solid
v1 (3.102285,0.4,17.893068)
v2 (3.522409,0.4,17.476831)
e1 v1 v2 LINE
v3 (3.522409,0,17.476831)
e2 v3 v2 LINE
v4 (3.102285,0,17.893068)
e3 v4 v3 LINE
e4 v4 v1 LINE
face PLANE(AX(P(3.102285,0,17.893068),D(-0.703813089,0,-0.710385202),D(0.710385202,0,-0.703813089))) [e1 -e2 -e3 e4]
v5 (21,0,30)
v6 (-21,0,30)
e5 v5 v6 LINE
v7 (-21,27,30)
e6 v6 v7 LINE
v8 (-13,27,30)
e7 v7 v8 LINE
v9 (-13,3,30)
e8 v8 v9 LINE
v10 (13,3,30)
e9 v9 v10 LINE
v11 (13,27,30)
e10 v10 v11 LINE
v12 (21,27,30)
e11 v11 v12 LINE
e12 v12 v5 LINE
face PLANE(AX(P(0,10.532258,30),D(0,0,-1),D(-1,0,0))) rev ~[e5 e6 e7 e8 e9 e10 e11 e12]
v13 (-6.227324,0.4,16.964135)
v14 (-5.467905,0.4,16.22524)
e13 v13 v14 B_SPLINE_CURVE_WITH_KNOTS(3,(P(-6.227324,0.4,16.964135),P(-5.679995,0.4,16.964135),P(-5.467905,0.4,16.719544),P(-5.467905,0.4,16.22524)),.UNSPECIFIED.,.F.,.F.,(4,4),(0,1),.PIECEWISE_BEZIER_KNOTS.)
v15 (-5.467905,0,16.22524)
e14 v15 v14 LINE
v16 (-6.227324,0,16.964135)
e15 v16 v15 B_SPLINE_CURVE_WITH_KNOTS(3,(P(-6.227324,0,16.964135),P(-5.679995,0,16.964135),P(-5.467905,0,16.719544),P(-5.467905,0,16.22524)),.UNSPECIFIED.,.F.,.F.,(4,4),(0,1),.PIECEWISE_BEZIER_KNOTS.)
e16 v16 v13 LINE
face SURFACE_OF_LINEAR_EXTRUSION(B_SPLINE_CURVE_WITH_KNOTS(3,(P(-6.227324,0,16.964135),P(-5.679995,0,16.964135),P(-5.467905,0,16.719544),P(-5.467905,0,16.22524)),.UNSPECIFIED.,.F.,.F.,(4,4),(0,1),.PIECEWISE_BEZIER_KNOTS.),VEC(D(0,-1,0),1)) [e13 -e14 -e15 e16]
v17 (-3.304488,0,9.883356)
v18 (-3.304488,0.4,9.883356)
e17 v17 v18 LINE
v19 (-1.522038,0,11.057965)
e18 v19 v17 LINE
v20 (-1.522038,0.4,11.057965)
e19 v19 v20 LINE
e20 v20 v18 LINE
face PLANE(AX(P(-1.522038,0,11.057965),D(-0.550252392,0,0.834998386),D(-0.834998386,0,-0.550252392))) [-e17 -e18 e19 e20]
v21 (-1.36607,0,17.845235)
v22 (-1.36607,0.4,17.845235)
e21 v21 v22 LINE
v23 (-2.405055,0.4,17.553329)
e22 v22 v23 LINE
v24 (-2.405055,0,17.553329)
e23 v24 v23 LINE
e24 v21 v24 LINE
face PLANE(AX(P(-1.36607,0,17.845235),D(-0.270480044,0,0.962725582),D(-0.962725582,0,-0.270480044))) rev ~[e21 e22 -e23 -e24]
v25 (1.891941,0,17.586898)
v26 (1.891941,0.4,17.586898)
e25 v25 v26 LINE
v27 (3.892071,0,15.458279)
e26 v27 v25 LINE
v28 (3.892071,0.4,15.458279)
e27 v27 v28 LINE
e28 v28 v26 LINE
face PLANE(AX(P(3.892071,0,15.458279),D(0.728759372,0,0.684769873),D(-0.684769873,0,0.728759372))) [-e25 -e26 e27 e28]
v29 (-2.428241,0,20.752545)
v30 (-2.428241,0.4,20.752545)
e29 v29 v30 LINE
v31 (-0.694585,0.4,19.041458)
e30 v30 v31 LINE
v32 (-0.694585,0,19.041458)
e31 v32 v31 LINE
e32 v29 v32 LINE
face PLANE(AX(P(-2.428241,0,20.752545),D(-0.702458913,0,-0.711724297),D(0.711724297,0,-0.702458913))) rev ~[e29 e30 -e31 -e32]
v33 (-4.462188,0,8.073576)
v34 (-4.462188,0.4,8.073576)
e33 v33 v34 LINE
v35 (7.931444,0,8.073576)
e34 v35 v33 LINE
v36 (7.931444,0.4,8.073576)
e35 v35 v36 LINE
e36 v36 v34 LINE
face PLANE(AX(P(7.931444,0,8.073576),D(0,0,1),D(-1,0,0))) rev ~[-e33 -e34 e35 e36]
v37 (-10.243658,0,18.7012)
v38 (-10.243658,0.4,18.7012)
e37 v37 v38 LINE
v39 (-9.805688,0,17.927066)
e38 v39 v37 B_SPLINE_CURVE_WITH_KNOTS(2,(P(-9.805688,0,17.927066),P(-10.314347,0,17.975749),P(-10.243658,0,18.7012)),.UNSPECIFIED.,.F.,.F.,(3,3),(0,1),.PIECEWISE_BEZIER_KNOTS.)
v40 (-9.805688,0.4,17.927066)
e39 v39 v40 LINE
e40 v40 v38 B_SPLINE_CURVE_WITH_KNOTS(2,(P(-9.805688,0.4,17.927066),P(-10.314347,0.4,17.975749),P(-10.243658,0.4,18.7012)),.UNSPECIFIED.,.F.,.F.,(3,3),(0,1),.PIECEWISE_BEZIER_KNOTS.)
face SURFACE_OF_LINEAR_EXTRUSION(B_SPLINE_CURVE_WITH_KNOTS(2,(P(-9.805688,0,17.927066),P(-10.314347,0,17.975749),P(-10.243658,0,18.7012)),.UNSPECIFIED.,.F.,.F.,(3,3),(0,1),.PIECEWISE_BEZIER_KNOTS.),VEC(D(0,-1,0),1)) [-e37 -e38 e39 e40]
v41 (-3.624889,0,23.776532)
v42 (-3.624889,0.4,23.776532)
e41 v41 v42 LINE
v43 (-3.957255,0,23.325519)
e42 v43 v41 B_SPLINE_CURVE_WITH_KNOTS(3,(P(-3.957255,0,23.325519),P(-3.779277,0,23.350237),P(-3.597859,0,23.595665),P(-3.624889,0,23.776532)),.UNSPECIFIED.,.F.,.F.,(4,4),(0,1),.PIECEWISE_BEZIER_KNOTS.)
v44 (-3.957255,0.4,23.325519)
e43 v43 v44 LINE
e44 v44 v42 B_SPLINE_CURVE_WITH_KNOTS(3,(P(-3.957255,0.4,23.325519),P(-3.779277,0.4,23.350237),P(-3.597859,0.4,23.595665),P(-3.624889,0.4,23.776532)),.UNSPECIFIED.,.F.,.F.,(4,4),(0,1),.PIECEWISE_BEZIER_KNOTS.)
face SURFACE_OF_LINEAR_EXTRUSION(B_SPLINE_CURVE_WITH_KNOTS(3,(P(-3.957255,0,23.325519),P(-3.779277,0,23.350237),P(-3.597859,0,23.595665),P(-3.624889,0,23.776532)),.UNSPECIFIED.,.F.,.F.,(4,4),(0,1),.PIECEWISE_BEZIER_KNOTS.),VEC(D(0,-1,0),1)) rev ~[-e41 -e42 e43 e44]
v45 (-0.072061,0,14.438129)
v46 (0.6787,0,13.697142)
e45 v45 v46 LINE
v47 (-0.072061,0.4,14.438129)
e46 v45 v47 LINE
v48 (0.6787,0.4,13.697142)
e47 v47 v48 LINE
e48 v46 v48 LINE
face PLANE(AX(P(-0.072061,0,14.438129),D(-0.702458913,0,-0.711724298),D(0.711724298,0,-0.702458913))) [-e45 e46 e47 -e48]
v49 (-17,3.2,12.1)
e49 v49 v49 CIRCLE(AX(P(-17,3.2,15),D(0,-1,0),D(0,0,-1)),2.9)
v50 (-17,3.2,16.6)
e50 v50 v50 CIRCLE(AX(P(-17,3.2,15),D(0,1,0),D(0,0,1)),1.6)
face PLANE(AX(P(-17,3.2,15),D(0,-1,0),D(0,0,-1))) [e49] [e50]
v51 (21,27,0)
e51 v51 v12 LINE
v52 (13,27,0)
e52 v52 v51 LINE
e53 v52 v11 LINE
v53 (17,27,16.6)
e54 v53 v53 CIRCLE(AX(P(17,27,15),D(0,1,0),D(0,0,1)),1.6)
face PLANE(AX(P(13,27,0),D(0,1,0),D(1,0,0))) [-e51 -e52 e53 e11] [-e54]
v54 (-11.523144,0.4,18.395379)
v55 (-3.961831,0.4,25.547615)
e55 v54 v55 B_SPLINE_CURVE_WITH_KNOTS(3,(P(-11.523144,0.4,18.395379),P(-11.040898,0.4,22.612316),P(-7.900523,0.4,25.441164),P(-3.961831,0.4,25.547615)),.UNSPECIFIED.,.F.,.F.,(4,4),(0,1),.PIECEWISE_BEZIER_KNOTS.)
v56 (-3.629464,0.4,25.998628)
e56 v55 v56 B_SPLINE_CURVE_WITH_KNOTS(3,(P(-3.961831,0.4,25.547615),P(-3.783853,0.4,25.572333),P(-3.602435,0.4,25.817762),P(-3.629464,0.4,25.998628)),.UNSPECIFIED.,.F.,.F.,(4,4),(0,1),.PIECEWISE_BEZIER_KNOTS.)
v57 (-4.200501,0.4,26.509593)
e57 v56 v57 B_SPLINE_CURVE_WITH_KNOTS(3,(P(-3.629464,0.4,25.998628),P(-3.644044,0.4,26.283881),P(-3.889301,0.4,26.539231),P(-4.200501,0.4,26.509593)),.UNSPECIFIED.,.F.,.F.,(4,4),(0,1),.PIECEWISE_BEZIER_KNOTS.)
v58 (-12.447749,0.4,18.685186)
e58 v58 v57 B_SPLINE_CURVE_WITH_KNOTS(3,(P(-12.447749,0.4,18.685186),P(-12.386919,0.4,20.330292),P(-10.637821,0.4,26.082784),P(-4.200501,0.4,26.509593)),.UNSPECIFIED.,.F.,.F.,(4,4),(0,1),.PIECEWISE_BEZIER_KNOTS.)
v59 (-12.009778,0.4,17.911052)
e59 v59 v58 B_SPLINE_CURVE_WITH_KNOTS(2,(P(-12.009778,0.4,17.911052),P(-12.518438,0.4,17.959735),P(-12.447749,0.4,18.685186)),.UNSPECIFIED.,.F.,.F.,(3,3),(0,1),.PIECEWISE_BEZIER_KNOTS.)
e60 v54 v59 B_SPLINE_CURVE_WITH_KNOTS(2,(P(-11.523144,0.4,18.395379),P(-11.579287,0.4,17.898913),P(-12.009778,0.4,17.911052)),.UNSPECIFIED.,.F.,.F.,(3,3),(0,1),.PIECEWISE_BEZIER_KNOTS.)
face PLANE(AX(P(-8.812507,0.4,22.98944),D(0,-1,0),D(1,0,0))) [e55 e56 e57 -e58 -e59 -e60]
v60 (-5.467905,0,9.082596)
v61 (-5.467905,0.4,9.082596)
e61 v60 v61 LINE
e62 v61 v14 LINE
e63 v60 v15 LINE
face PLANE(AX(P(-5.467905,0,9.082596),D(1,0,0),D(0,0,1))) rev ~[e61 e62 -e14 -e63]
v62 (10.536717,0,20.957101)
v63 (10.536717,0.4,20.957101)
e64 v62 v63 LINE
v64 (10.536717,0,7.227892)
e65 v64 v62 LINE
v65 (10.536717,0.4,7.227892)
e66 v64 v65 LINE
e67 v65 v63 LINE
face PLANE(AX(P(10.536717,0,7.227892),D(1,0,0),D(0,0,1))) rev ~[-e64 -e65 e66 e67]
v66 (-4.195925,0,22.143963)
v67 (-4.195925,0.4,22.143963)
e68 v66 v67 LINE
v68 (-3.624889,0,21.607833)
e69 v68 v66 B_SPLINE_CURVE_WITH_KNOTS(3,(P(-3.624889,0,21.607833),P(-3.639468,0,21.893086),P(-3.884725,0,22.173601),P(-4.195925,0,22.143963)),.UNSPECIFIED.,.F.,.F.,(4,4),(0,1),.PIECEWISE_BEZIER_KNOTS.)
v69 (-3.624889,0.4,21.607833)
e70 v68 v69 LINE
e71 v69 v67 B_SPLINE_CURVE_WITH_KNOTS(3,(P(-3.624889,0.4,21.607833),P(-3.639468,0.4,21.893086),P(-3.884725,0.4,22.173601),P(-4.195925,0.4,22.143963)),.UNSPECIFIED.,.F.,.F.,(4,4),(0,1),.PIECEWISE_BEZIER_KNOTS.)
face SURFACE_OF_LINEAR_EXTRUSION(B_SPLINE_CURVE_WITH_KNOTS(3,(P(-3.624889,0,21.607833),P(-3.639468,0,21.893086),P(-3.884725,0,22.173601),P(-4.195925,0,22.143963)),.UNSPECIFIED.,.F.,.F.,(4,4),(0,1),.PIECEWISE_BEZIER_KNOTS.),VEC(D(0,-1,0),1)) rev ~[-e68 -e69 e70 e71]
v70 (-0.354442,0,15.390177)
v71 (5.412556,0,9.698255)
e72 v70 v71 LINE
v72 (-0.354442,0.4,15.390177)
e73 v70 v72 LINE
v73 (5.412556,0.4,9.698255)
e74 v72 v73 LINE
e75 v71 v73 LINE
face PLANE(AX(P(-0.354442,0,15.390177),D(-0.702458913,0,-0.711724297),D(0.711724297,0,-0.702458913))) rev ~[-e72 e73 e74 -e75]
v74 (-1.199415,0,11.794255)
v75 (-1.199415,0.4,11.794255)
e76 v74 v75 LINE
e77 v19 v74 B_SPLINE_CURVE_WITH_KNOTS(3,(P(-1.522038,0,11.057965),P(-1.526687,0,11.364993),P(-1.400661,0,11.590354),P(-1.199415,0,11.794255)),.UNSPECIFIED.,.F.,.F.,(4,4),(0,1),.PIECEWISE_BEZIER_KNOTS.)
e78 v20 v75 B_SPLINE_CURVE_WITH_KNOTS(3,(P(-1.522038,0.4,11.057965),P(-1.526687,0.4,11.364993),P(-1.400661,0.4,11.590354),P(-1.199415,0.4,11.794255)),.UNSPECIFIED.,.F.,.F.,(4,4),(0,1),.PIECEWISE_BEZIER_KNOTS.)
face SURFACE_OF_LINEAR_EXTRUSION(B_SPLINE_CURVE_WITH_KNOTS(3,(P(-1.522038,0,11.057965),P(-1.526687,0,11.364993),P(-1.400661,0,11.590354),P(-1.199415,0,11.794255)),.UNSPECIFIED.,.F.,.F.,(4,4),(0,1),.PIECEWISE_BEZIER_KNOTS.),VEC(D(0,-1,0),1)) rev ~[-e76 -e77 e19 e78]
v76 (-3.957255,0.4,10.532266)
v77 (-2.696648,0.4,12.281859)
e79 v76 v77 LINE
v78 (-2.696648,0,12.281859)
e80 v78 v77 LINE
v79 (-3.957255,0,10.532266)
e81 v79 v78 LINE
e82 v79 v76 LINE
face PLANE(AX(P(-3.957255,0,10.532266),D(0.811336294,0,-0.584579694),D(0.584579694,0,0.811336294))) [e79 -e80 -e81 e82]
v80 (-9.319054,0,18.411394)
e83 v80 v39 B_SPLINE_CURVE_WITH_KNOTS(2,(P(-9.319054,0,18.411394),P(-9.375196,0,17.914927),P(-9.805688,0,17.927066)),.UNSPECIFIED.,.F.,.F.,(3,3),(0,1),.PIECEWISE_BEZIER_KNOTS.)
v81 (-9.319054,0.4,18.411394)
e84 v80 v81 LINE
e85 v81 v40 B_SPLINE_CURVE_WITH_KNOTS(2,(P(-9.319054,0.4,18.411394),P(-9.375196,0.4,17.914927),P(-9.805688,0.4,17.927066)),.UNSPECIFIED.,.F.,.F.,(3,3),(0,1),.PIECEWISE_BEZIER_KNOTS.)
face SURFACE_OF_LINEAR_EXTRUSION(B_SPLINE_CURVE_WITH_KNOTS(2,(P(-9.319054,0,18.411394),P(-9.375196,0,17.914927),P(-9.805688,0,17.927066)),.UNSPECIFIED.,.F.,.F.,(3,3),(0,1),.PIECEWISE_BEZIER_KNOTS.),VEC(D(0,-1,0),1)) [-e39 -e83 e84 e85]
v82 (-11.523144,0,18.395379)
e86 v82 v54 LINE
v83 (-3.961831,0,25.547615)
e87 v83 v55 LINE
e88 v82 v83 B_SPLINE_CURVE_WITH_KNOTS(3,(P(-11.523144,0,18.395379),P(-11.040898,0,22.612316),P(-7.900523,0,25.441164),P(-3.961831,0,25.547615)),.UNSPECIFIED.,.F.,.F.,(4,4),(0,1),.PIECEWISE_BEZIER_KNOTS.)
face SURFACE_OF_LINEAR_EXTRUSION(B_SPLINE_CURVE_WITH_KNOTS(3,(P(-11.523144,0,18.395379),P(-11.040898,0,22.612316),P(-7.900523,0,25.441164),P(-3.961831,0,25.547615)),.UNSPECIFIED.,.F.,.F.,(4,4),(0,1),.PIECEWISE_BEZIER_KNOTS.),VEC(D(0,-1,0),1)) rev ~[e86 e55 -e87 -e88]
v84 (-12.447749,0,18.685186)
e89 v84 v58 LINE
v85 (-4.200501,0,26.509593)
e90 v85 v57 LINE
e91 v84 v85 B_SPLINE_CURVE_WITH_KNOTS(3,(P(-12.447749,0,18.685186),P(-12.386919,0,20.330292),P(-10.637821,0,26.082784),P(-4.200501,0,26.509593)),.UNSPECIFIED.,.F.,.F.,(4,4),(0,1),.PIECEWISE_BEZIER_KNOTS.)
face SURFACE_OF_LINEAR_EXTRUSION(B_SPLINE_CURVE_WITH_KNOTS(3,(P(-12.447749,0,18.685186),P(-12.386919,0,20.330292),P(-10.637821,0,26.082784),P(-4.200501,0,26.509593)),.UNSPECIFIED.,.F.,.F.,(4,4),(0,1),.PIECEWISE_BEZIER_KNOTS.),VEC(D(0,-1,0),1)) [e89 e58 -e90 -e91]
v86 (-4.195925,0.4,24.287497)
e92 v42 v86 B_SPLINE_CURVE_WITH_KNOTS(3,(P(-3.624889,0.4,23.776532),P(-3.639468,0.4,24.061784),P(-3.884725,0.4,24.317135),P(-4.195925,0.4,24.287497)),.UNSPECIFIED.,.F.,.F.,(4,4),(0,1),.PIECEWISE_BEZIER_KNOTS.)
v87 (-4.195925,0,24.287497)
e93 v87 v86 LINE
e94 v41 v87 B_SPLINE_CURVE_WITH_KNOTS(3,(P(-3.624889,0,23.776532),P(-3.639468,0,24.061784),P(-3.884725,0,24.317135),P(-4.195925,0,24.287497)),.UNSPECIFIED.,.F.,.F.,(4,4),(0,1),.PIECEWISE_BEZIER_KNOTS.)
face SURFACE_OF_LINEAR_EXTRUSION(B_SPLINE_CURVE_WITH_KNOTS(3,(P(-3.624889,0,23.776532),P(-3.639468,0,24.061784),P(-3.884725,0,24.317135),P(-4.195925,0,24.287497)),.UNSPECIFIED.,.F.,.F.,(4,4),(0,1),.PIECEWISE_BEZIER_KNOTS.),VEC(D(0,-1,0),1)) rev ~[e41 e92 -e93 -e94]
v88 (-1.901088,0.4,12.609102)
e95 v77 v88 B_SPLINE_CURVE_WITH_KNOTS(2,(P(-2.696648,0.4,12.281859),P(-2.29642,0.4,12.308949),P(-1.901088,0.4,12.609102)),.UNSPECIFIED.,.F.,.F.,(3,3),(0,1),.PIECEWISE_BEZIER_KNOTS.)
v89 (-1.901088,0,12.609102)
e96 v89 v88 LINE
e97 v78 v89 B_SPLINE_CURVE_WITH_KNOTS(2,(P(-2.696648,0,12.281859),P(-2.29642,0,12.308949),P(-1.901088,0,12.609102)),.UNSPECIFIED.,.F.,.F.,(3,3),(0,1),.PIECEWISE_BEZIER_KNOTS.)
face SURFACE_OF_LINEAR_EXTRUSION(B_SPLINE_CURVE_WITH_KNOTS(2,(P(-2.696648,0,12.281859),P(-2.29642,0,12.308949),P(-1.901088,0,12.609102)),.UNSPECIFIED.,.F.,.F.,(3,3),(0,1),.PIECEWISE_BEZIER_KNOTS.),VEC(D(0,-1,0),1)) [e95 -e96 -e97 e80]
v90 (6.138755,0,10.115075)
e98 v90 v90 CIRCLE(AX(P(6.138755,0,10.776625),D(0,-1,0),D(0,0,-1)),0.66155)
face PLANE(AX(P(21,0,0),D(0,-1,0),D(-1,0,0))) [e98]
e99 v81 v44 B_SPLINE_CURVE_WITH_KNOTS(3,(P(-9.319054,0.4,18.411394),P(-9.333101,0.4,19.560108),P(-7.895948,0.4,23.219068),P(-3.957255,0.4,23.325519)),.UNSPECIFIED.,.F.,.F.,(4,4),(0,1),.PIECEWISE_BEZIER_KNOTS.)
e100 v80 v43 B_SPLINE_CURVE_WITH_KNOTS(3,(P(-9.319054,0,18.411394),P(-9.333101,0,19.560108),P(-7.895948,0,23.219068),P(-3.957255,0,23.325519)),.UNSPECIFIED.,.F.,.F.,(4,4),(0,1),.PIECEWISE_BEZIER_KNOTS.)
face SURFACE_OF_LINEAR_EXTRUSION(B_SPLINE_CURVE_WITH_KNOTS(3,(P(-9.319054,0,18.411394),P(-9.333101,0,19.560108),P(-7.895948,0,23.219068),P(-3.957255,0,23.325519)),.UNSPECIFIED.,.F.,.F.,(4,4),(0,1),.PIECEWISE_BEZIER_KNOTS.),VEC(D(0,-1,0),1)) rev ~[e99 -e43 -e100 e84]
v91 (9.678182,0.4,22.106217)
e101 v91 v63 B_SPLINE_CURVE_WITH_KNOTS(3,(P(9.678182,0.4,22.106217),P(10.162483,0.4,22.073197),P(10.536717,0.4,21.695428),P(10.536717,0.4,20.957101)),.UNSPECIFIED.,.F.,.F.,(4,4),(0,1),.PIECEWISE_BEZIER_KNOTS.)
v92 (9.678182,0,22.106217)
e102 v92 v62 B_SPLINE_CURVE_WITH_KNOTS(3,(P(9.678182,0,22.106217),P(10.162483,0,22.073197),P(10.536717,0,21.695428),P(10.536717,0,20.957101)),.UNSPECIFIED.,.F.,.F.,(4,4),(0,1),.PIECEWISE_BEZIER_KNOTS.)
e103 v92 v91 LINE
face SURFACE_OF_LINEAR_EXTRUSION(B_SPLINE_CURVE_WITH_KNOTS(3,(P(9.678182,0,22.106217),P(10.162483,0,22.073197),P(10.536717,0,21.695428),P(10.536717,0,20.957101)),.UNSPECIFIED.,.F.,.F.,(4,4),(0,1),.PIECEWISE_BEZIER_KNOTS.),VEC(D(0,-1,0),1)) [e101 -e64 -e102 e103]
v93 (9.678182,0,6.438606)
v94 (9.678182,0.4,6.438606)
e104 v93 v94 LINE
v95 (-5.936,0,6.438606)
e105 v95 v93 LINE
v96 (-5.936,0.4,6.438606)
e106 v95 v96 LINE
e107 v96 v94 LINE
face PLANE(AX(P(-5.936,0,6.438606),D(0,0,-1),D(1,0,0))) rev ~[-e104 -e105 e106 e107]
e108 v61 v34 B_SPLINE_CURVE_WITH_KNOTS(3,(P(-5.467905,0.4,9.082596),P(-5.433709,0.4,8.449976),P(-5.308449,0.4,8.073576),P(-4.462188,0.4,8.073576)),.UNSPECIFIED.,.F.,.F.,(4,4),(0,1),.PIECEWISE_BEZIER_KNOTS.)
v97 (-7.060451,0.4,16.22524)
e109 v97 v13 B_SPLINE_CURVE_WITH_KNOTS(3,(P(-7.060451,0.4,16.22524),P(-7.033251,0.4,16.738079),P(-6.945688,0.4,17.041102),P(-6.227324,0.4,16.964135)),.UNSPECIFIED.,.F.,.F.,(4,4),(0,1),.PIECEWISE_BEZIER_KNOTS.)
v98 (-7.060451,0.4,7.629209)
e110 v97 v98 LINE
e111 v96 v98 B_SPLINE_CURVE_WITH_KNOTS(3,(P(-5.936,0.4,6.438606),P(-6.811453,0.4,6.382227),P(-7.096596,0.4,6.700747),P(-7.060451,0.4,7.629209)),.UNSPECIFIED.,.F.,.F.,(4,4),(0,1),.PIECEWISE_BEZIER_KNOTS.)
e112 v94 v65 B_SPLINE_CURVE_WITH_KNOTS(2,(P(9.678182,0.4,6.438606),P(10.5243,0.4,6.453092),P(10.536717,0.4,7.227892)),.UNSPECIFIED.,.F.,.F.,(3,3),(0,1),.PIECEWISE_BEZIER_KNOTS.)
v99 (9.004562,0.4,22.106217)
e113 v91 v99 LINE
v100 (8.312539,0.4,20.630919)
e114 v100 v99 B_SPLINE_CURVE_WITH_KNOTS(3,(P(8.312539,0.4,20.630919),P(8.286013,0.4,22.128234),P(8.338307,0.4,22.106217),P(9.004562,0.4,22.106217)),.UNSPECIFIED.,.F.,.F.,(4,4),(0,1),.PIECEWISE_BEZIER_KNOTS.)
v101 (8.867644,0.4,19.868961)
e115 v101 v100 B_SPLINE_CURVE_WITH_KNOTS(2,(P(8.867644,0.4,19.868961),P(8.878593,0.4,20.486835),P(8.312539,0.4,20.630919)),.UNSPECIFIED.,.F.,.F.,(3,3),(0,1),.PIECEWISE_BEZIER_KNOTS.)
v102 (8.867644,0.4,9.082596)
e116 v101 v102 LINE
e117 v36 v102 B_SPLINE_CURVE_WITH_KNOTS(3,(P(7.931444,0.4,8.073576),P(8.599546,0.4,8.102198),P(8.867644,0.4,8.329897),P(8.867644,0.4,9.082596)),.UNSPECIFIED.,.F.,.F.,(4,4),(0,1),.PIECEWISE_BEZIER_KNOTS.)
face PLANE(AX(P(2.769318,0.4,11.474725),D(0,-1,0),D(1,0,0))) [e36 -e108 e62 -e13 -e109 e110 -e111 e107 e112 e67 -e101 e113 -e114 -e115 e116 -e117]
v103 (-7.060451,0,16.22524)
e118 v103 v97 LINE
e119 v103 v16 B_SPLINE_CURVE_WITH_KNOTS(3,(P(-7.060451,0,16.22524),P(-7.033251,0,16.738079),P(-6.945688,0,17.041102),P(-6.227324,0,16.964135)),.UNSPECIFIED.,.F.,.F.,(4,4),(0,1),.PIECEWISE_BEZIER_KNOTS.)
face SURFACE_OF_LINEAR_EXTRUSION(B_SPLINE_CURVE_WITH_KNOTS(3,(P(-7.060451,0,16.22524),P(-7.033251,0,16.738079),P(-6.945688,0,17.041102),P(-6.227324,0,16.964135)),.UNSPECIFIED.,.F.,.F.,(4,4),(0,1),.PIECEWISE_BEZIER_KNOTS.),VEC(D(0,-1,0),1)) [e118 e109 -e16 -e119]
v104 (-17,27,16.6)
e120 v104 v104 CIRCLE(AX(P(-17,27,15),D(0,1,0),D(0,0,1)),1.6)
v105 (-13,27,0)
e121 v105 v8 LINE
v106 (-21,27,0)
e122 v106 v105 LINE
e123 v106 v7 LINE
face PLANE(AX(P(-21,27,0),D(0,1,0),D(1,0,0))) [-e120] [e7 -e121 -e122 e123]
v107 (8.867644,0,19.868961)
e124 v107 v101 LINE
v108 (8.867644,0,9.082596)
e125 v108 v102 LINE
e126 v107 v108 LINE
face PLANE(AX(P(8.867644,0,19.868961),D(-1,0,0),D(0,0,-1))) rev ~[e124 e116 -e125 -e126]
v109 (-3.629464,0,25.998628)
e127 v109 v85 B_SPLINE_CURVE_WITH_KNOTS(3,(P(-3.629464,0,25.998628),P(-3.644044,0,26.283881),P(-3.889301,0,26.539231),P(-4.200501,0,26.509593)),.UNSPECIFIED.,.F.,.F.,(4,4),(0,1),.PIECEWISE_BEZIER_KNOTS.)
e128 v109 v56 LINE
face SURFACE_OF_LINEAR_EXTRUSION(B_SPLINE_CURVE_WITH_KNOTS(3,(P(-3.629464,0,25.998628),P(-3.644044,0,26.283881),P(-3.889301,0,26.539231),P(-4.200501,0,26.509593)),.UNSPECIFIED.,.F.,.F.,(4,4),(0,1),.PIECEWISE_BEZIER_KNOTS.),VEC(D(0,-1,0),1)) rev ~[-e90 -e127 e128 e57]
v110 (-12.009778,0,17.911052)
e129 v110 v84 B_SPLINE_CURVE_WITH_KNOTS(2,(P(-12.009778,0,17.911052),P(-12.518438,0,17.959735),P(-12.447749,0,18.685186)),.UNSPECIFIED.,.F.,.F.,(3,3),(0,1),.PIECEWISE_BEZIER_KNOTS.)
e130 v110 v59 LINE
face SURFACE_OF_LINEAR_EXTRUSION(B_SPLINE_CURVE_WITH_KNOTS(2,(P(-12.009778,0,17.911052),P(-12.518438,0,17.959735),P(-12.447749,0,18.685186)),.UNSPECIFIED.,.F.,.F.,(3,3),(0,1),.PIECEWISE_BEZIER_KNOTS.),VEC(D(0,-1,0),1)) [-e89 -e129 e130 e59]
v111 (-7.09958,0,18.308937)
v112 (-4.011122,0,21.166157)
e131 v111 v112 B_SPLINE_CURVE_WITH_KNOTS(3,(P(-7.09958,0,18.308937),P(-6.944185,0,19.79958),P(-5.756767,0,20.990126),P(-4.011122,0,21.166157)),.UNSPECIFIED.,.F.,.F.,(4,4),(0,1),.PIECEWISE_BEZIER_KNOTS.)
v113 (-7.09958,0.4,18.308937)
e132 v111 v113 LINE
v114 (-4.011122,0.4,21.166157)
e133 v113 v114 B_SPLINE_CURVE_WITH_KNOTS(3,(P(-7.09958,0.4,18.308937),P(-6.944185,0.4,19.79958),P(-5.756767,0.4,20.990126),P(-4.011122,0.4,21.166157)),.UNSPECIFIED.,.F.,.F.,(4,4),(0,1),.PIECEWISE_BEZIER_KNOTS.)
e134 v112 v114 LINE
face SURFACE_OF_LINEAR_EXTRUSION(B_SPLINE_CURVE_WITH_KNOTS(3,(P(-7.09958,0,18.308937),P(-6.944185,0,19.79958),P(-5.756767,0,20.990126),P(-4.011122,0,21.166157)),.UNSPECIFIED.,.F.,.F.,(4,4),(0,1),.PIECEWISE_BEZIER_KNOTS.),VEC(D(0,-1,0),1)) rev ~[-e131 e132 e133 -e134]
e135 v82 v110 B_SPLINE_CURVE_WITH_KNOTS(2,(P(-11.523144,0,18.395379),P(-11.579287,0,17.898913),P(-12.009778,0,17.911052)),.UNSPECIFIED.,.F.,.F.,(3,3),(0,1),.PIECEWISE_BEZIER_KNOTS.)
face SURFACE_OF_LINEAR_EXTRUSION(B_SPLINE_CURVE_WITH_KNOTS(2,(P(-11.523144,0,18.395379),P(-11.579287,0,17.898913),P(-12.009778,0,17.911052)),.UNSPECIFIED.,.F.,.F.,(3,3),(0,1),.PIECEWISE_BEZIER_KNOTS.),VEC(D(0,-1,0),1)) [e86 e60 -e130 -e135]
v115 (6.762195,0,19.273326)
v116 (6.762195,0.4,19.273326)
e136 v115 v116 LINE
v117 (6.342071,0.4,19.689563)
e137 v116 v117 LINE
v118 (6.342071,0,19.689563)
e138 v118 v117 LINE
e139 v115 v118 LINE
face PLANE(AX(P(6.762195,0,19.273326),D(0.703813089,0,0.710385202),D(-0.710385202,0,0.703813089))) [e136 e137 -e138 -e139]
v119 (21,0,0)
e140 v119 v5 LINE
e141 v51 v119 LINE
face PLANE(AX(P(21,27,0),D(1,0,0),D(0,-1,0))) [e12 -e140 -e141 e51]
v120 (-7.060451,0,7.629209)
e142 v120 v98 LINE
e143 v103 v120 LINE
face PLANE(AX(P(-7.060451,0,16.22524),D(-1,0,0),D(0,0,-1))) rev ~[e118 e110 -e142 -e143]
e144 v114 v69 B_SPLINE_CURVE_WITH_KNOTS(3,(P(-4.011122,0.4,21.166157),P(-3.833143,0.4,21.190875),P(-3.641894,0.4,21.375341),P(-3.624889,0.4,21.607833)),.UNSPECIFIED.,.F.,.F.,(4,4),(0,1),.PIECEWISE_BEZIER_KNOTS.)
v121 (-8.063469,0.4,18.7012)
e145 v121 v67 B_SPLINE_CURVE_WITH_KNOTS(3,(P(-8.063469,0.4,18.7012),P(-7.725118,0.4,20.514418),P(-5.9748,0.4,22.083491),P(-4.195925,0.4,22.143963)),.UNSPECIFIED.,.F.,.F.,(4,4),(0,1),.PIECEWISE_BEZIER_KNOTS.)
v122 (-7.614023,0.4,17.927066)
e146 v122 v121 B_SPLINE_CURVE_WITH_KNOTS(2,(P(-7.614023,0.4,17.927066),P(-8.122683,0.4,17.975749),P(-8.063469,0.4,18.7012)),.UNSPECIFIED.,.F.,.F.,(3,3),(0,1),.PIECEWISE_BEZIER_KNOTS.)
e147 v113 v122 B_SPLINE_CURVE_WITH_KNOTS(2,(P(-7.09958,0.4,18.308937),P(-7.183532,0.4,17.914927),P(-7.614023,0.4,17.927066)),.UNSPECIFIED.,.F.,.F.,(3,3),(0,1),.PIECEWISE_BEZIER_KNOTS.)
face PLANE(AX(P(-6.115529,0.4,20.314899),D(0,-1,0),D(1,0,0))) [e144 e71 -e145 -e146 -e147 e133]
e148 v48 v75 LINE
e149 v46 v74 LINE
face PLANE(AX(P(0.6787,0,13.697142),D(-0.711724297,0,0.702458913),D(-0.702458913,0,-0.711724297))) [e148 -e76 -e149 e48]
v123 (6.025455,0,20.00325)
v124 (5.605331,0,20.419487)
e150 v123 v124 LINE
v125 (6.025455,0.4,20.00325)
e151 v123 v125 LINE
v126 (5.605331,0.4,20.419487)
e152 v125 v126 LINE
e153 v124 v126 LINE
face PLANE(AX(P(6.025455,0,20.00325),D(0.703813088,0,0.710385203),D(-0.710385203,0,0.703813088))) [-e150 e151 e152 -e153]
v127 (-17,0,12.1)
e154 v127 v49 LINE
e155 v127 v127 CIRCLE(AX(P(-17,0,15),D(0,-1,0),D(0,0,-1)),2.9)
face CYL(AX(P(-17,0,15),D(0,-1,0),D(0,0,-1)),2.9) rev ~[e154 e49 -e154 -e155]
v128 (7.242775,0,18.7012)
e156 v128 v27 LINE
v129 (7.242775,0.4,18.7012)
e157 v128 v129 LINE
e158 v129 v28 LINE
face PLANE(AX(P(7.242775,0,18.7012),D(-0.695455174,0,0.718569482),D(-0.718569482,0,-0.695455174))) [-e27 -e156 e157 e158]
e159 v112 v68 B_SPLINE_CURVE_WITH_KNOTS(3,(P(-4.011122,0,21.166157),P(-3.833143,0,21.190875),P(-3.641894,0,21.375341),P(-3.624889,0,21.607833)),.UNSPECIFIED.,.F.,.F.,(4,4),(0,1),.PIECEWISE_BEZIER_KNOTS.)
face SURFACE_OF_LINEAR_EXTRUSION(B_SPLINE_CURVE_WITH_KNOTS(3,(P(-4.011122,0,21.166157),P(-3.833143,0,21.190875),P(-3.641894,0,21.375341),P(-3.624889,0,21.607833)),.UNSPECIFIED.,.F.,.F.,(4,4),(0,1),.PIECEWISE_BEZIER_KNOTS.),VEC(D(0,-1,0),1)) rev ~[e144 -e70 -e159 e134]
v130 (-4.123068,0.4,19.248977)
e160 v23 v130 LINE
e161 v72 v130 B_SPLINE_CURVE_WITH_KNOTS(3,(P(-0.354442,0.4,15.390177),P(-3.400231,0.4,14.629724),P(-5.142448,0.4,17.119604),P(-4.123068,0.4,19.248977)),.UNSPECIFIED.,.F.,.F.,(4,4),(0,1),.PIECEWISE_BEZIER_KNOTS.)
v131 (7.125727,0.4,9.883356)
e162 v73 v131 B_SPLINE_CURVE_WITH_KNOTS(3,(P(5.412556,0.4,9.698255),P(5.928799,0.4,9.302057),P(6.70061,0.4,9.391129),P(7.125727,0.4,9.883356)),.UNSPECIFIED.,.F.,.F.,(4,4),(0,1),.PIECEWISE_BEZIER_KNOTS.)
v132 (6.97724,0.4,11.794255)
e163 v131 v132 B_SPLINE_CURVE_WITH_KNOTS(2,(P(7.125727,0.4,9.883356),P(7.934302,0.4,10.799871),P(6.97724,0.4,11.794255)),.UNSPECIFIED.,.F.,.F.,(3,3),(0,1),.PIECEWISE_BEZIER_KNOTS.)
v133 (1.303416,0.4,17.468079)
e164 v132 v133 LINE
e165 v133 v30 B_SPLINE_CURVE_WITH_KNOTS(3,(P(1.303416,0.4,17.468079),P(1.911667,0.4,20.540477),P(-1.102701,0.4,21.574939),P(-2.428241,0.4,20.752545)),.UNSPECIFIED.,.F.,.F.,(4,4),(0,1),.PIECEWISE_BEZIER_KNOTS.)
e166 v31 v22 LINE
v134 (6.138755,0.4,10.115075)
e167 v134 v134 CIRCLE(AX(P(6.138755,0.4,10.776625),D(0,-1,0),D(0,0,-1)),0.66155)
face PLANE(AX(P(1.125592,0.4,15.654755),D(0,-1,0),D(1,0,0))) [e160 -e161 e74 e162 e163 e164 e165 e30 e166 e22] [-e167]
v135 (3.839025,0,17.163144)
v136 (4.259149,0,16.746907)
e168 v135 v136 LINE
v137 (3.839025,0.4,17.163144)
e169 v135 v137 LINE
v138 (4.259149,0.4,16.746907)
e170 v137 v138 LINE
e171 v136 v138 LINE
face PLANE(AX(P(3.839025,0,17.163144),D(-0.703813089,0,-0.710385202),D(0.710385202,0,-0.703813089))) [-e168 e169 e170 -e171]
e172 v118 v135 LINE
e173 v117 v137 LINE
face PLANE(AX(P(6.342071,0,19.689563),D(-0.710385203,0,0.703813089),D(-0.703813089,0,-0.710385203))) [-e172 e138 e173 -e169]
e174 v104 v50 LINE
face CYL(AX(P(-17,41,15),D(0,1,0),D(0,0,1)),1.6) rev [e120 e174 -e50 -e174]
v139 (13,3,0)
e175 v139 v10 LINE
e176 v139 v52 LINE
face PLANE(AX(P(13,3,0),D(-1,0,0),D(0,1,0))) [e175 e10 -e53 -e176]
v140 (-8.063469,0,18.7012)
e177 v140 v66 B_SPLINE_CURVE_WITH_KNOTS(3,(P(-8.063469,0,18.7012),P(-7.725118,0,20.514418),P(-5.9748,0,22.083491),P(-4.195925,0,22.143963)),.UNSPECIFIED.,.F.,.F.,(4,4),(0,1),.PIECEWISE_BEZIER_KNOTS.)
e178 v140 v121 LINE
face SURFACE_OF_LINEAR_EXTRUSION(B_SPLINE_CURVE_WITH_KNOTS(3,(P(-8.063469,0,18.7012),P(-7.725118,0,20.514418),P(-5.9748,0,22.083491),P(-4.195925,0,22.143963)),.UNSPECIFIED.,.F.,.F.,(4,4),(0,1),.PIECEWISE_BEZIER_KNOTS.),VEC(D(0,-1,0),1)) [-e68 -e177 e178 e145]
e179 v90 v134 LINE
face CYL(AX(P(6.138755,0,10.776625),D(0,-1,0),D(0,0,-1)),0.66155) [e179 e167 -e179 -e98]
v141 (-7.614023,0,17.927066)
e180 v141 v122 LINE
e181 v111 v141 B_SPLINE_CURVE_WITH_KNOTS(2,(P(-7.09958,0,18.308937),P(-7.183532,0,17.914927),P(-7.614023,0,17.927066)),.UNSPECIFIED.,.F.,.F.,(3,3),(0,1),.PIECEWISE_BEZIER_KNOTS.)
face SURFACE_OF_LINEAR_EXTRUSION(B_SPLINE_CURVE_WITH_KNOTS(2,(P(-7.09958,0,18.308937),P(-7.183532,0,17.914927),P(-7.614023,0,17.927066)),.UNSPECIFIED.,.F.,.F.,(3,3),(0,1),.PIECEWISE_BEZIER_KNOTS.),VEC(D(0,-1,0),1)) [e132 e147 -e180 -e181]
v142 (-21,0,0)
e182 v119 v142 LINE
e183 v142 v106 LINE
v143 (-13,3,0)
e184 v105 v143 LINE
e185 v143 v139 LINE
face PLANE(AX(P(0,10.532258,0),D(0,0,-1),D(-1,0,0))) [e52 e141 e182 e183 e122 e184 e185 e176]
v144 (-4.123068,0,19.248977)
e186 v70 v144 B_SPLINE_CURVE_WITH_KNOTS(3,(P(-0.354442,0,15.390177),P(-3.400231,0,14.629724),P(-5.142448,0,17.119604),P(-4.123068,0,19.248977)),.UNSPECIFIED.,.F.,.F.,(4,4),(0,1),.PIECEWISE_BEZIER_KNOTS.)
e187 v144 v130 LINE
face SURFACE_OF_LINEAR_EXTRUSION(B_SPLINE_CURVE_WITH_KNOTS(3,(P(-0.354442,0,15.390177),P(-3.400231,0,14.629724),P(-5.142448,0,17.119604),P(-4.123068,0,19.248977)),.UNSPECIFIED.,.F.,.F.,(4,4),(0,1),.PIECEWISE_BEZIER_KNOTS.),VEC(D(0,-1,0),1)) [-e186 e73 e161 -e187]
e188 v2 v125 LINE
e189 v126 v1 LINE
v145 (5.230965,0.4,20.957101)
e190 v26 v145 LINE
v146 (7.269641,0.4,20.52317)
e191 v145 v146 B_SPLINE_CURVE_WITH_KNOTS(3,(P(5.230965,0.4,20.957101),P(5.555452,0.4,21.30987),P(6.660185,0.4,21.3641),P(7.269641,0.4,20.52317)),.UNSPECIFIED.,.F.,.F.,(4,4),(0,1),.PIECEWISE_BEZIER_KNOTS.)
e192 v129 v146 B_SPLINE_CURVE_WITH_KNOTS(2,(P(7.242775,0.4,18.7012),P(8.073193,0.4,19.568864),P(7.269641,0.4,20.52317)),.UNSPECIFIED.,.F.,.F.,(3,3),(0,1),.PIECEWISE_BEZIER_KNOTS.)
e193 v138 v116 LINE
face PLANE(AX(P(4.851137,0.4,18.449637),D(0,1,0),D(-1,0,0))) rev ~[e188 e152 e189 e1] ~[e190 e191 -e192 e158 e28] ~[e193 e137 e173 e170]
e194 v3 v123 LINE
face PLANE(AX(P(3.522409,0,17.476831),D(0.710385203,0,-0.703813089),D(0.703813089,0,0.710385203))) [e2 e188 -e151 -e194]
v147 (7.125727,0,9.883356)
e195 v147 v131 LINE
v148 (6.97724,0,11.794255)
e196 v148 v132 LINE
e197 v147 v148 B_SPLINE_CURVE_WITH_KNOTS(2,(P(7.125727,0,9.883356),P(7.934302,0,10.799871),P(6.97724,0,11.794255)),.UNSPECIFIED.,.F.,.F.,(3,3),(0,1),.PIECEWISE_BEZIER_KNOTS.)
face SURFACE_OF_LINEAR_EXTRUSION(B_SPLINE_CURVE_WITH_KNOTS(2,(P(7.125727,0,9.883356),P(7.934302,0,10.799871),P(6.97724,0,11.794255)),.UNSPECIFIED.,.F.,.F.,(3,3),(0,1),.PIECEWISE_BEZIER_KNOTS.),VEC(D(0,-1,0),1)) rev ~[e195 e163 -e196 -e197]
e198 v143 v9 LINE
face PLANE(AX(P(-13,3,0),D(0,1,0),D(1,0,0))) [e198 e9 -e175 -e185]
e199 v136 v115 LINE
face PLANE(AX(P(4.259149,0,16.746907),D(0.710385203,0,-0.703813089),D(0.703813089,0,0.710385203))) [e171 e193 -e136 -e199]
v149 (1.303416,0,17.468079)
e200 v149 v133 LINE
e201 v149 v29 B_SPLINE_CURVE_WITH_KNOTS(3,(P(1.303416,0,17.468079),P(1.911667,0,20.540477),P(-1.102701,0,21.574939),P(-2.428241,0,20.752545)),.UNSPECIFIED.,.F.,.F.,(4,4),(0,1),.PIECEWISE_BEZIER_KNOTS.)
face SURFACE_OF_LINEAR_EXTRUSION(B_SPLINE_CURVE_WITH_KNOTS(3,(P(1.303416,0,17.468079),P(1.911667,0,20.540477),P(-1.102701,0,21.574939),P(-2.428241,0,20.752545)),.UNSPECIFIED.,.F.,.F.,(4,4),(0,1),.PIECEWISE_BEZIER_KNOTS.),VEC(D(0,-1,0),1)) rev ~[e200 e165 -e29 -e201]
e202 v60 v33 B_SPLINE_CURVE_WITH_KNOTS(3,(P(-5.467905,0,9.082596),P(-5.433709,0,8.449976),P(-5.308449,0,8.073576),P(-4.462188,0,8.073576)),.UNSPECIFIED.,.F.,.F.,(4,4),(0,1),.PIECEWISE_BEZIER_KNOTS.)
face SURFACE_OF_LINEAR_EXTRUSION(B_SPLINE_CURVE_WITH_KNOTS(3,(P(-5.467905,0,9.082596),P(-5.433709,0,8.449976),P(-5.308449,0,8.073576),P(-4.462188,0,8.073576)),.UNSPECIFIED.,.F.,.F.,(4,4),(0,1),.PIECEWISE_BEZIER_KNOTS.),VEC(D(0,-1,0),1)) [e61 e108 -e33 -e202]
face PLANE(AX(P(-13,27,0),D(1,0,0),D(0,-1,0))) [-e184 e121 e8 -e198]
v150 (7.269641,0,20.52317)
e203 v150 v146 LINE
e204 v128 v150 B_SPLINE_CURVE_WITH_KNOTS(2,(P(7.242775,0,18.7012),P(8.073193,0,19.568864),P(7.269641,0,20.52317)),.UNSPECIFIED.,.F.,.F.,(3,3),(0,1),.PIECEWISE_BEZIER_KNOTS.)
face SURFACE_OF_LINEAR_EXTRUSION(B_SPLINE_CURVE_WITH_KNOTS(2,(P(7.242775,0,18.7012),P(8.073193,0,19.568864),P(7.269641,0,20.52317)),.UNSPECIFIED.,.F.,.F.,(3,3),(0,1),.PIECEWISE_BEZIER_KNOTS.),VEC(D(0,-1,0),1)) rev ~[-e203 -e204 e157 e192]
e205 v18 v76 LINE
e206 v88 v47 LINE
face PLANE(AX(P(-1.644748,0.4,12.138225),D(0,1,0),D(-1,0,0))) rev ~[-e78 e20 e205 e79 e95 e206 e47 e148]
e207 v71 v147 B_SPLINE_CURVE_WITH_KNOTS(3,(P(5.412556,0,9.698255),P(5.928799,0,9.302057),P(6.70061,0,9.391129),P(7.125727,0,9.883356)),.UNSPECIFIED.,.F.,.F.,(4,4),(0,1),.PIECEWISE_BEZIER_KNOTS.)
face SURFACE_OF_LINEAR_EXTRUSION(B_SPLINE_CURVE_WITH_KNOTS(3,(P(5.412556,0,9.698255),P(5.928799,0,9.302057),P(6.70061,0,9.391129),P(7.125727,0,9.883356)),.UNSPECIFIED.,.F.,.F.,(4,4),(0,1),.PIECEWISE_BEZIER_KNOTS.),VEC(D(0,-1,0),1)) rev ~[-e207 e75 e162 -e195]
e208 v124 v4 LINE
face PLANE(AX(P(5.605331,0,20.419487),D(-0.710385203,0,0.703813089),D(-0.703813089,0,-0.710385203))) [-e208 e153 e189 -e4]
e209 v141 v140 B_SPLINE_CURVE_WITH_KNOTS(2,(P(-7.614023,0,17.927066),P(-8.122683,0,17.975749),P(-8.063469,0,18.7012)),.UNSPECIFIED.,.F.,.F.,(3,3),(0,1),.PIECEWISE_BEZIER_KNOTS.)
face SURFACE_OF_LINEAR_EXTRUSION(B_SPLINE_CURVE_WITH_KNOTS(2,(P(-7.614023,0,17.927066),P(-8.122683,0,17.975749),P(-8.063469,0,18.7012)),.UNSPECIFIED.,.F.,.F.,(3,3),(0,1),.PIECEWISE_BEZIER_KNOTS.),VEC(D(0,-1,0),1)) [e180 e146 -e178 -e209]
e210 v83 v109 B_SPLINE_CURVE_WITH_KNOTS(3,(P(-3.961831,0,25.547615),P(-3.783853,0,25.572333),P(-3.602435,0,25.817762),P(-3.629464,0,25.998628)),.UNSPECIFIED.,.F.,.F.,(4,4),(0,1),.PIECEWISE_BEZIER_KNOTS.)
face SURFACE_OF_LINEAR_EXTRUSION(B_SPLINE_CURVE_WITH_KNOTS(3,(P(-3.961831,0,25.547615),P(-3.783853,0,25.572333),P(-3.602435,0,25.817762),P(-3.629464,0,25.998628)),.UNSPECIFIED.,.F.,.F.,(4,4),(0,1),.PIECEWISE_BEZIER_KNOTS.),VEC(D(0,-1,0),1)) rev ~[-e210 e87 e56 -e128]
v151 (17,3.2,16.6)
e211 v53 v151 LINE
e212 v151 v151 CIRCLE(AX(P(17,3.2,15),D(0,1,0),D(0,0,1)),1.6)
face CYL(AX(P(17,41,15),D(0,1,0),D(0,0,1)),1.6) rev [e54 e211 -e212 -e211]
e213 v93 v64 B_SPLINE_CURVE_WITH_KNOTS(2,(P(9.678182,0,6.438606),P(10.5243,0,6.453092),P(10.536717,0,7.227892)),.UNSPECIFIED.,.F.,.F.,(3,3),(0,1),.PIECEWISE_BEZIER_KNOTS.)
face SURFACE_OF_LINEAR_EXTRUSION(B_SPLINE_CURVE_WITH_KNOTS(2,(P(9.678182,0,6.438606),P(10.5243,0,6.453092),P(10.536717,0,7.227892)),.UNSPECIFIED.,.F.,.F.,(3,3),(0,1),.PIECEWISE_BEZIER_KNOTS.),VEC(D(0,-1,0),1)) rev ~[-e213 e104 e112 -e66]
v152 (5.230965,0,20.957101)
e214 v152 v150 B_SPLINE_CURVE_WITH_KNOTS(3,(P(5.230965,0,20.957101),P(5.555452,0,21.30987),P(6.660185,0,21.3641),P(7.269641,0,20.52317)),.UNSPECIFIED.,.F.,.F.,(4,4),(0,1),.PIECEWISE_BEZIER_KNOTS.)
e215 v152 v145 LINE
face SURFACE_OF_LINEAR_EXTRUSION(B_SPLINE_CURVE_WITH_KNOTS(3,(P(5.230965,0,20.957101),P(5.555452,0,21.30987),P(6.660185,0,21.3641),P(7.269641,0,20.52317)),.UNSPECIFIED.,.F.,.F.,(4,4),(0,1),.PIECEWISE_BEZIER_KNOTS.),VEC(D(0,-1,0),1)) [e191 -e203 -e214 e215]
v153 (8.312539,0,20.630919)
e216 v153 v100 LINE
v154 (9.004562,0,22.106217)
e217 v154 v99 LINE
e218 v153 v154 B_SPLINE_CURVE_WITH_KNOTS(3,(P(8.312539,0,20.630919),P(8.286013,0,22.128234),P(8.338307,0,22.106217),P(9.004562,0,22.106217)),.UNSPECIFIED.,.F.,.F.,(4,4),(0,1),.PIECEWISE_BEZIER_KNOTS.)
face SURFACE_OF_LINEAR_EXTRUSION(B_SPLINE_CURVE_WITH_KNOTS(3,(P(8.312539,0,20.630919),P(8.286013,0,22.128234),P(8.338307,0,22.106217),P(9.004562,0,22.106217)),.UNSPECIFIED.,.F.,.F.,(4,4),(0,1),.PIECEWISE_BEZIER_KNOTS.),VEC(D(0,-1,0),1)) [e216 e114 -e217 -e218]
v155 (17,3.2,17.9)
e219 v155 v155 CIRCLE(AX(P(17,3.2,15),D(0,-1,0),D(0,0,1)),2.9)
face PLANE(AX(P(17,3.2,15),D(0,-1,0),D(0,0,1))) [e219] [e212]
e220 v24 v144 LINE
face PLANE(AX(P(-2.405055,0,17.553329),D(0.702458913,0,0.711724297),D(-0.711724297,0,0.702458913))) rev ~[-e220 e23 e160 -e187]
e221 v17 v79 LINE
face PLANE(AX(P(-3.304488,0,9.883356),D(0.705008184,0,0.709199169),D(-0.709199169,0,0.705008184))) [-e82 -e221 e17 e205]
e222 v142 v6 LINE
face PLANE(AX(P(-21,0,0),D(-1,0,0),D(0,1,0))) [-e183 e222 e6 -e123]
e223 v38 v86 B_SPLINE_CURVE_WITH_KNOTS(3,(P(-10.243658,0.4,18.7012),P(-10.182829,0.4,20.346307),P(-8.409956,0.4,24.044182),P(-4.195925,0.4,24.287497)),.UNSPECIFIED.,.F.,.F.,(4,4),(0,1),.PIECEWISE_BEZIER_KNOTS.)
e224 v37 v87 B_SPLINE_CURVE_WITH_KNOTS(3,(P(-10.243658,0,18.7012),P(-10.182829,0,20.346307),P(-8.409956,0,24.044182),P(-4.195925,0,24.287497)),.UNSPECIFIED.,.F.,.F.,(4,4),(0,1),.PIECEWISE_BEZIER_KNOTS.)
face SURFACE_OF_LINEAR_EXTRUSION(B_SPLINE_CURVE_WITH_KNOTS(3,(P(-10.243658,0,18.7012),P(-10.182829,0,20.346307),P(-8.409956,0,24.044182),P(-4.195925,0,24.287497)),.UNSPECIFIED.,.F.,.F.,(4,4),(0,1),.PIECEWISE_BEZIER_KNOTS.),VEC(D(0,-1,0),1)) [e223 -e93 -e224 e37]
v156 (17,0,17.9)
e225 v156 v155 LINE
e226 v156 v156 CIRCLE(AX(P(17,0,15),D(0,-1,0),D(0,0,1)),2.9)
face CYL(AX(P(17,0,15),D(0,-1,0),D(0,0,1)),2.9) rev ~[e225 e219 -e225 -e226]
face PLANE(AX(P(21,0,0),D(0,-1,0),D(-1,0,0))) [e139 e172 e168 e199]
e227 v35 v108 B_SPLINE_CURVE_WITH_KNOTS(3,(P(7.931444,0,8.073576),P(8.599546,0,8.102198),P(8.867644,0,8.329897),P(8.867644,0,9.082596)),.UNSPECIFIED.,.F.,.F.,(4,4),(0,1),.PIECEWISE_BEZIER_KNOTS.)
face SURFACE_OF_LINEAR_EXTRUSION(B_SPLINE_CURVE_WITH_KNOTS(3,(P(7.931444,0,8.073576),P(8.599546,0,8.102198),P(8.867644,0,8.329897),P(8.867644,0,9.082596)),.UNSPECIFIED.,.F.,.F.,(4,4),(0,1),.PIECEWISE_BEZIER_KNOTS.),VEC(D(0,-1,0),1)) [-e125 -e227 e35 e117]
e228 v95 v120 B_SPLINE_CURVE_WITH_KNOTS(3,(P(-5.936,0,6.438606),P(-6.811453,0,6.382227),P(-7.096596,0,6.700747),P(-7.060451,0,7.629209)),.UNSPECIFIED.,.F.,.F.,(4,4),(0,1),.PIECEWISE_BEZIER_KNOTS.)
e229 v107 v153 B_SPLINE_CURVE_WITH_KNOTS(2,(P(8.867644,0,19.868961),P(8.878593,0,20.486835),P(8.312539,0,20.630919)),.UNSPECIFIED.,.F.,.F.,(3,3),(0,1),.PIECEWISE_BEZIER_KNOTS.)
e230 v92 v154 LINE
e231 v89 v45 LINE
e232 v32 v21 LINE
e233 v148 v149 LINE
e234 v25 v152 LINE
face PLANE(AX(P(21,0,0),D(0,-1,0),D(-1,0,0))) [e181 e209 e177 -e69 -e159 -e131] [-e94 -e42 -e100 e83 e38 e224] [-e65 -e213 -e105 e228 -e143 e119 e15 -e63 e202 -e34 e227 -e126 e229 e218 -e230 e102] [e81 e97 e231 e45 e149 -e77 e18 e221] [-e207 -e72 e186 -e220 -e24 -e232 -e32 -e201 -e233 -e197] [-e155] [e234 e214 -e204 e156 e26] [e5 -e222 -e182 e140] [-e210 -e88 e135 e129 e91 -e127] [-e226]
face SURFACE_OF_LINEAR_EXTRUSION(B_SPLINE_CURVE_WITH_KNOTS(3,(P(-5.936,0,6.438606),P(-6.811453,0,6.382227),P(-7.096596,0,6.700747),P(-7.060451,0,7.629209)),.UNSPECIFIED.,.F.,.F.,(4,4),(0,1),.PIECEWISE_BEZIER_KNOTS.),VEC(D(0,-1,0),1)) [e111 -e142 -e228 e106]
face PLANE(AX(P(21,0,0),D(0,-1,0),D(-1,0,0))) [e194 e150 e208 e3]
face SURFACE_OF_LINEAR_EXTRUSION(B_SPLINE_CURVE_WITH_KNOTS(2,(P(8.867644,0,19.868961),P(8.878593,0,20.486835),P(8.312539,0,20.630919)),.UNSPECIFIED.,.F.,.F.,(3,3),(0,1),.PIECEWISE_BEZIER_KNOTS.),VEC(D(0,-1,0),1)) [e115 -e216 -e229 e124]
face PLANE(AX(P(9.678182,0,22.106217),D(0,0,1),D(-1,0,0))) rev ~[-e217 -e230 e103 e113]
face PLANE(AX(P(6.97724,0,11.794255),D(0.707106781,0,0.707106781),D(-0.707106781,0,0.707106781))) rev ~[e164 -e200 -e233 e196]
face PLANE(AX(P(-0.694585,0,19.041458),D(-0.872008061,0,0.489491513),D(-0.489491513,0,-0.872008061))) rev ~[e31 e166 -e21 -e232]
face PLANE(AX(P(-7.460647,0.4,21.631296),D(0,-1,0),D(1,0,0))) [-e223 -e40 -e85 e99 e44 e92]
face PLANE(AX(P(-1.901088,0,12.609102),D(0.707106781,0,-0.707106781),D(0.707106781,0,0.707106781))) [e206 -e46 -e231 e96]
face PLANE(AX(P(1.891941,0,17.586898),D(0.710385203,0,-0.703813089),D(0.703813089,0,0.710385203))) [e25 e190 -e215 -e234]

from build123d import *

# Parameters (mm, degrees)
SALIENTE_EXTRUIR1_DEPTH    = 30
CORTAR_EXTRUIR1_DEPTH      = 15
CORTAR_EXTRUIR1_DEPTH_BACK = 41
CROQUIS2_R                 = 1.6
CROQUIS3_R                 = 2.9
CORTAR_EXTRUIR2_DEPTH      = 3.2
SKETCH1_R                  = 0.661549992
CUT_EXTRUDE1_DEPTH         = 0.4


with BuildPart() as part:
    # Croquis1 → Saliente-Extruir1 (new body)
    with BuildSketch(Plane.XY):
        Polygon((-21, 0), (-21, 27), (-13, 27), (-13, 3), (13, 3), (13, 27), (21, 27), (21, 0), align=None)
    extrude(amount=SALIENTE_EXTRUIR1_DEPTH)

    # Croquis2 → Cortar-Extruir1 (cut, two sides: drawn at the far end of the back side and taken through both)
    with BuildSketch(Plane.XZ.offset(-CORTAR_EXTRUIR1_DEPTH_BACK)):
        with Locations(Location((-17, 15, 0), (0, 0, 90))):
            Circle(CROQUIS2_R)
        with Locations(Location((17, 15, 0), (0, 0, 90))):
            Circle(CROQUIS2_R)
    extrude(amount=CORTAR_EXTRUIR1_DEPTH + CORTAR_EXTRUIR1_DEPTH_BACK, mode=Mode.SUBTRACT)

    # Croquis3 → Cortar-Extruir2 (cut)
    with BuildSketch(Plane.XZ):
        with Locations(Location((-17, 15, 0), (0, 0, 270))):
            Circle(CROQUIS3_R)
        with Locations(Location((17, 15, 0), (0, 0, 90))):
            Circle(CROQUIS3_R)
    extrude(amount=-CORTAR_EXTRUIR2_DEPTH, mode=Mode.SUBTRACT)

    # Sketch1 → Cut-Extrude1 (cut)
    # profile 1 of 7: a face of its own
    with BuildSketch(Plane.XZ):
        with BuildLine():
            Line((-5.935999793, 6.438605572), (9.678181575, 6.438605572))
            add(Edge.make_bspline(
                [(9.678181575, 6.438605572), (10.524299676, 6.453092153), (10.536716692, 7.227891763)],
                knots=[0, 0, 0, 1, 1, 1], degree=2))
            Line((10.536716692, 7.227891763), (10.536716692, 20.957100846))
            add(Edge.make_bspline(
                [(9.678181575, 22.106217079), (10.162482833, 22.073196538), (10.536716692, 21.695427507), (10.536716692, 20.957100846)],
                knots=[0, 0, 0, 0, 1, 1, 1, 1], degree=3))
            Line((9.678181575, 22.106217079), (9.004561714, 22.106217079))
            add(Edge.make_bspline(
                [(8.312539005, 20.630919436), (8.286013306, 22.128234394), (8.338307263, 22.106217079), (9.004561714, 22.106217079)],
                knots=[0, 0, 0, 0, 1, 1, 1, 1], degree=3))
            add(Edge.make_bspline(
                [(8.867643901, 19.868961385), (8.878593238, 20.486835473), (8.312539005, 20.630919436)],
                knots=[0, 0, 0, 1, 1, 1], degree=2))
            Line((8.867643901, 19.868961385), (8.867643901, 9.082596351))
            add(Edge.make_bspline(
                [(7.931444331, 8.073576195), (8.599546043, 8.102198014), (8.867643901, 8.329896708), (8.867643901, 9.082596351)],
                knots=[0, 0, 0, 0, 1, 1, 1, 1], degree=3))
            Line((7.931444331, 8.073576195), (-4.462187712, 8.073576195))
            add(Edge.make_bspline(
                [(-5.467904846, 9.082596351), (-5.433709159, 8.449976132), (-5.30844888, 8.073576195), (-4.462187712, 8.073576195)],
                knots=[0, 0, 0, 0, 1, 1, 1, 1], degree=3))
            Line((-5.467904846, 9.082596351), (-5.467904846, 16.225240488))
            add(Edge.make_bspline(
                [(-6.227323907, 16.964134709), (-5.679994854, 16.964134709), (-5.467904846, 16.719544079), (-5.467904846, 16.225240488)],
                knots=[0, 0, 0, 0, 1, 1, 1, 1], degree=3))
            add(Edge.make_bspline(
                [(-7.060451344, 16.225240488), (-7.033250732, 16.738079235), (-6.945687764, 17.041102265), (-6.227323907, 16.964134709)],
                knots=[0, 0, 0, 0, 1, 1, 1, 1], degree=3))
            Line((-7.060451344, 16.225240488), (-7.060451344, 7.629208643))
            add(Edge.make_bspline(
                [(-5.935999793, 6.438605572), (-6.811453061, 6.382227451), (-7.096596098, 6.700746565), (-7.060451344, 7.629208643)],
                knots=[0, 0, 0, 0, 1, 1, 1, 1], degree=3))
        make_face()
    # profile 2 of 7: a face of its own
    with BuildSketch(Plane.XZ):
        with BuildLine():
            Line((-1.522038325, 11.057965372), (-3.304487637, 9.883355918))
            Line((-3.304487637, 9.883355918), (-3.95725526, 10.532266036))
            Line((-3.95725526, 10.532266036), (-2.69664778, 12.281859139))
            add(Edge.make_bspline(
                [(-2.69664778, 12.281859139), (-2.296419712, 12.30894865), (-1.901088431, 12.60910176)],
                knots=[0, 0, 0, 1, 1, 1], degree=2))
            Line((-1.901088431, 12.60910176), (-0.072061062, 14.43812913))
            Line((-0.072061062, 14.43812913), (0.678700134, 13.69714151))
            Line((0.678700134, 13.69714151), (-1.199414528, 11.794254647))
            add(Edge.make_bspline(
                [(-1.522038325, 11.057965372), (-1.526686537, 11.364992788), (-1.400661149, 11.590353596), (-1.199414528, 11.794254647)],
                knots=[0, 0, 0, 0, 1, 1, 1, 1], degree=3))
        make_face()
    # profile 3 of 7: a face of its own
    with BuildSketch(Plane.XZ):
        with BuildLine():
            Line((-0.354442309, 15.390176677), (5.412555572, 9.698254849))
            add(Edge.make_bspline(
                [(5.412555572, 9.698254849), (5.928798687, 9.302057302), (6.700610258, 9.391128714), (7.125727085, 9.883355918)],
                knots=[0, 0, 0, 0, 1, 1, 1, 1], degree=3))
            add(Edge.make_bspline(
                [(7.125727085, 9.883355918), (7.934302129, 10.799871296), (6.977240411, 11.794254647)],
                knots=[0, 0, 0, 1, 1, 1], degree=2))
            Line((6.977240411, 11.794254647), (1.303415875, 17.468079182))
            add(Edge.make_bspline(
                [(1.303415875, 17.468079182), (1.911666945, 20.540477103), (-1.10270103, 21.574939106), (-2.42824136, 20.752545127)],
                knots=[0, 0, 0, 0, 1, 1, 1, 1], degree=3))
            Line((-2.42824136, 20.752545127), (-0.694584651, 19.041457544))
            Line((-0.694584651, 19.041457544), (-1.366070433, 17.845234527))
            Line((-1.366070433, 17.845234527), (-2.405054872, 17.553329375))
            Line((-2.405054872, 17.553329375), (-4.123067785, 19.248976817))
            add(Edge.make_bspline(
                [(-0.354442309, 15.390176677), (-3.400230967, 14.629724328), (-5.142448484, 17.119603802), (-4.123067785, 19.248976817)],
                knots=[0, 0, 0, 0, 1, 1, 1, 1], degree=3))
        make_face()
        with Locations(Location((6.13875523, 10.776625251, 0), (0, 0, 270))):
            Circle(SKETCH1_R, mode=Mode.SUBTRACT)
    # profile 4 of 7: a face of its own
    with BuildSketch(Plane.XZ):
        with BuildLine():
            Line((3.89207141, 15.458279189), (1.891941088, 17.586897539))
            Line((1.891941088, 17.586897539), (5.230965028, 20.957100846))
            add(Edge.make_bspline(
                [(5.230965028, 20.957100846), (5.555451632, 21.309870343), (6.660184694, 21.36409952), (7.269640603, 20.523170445)],
                knots=[0, 0, 0, 0, 1, 1, 1, 1], degree=3))
            add(Edge.make_bspline(
                [(7.242774573, 18.701199897), (8.073193496, 19.568863686), (7.269640603, 20.523170445)],
                knots=[0, 0, 0, 1, 1, 1], degree=2))
            Line((7.242774573, 18.701199897), (3.89207141, 15.458279189))
        make_face()
        Polygon((3.839024866, 17.163144155), (4.259148948, 16.746906842), (6.762194587, 19.273325593), (6.342070505, 19.689562906), align=None, mode=Mode.SUBTRACT)
        Polygon((3.102284891, 17.893068195), (3.522408973, 17.476830882), (6.025454613, 20.003249633), (5.60533053, 20.419486946), align=None, mode=Mode.SUBTRACT)
    # profile 5 of 7: a face of its own
    with BuildSketch(Plane.XZ):
        with BuildLine():
            add(Edge.make_bspline(
                [(-7.099579962, 18.308936967), (-6.944184766, 19.799579775), (-5.756766751, 20.990125682), (-4.011121589, 21.166157127)],
                knots=[0, 0, 0, 0, 1, 1, 1, 1], degree=3))
            add(Edge.make_bspline(
                [(-4.011121589, 21.166157127), (-3.833143245, 21.190875028), (-3.641894385, 21.375340953), (-3.624888541, 21.60783322)],
                knots=[0, 0, 0, 0, 1, 1, 1, 1], degree=3))
            add(Edge.make_bspline(
                [(-3.624888541, 21.60783322), (-3.639467746, 21.893086016), (-3.884725351, 22.173601101), (-4.195925218, 22.143963019)],
                knots=[0, 0, 0, 0, 1, 1, 1, 1], degree=3))
            add(Edge.make_bspline(
                [(-8.06346903, 18.701199897), (-7.725118315, 20.514418332), (-5.974799785, 22.083491135), (-4.195925218, 22.143963019)],
                knots=[0, 0, 0, 0, 1, 1, 1, 1], degree=3))
            add(Edge.make_bspline(
                [(-7.614023361, 17.927066284), (-8.122682955, 17.975749279), (-8.06346903, 18.701199897)],
                knots=[0, 0, 0, 1, 1, 1], degree=2))
            add(Edge.make_bspline(
                [(-7.099579962, 18.308936967), (-7.183532259, 17.914926879), (-7.614023361, 17.927066284)],
                knots=[0, 0, 0, 1, 1, 1], degree=2))
        make_face()
    # profile 6 of 7: a face of its own
    with BuildSketch(Plane.XZ):
        with BuildLine():
            add(Edge.make_bspline(
                [(-9.319053754, 18.411393731), (-9.333101087, 19.560108027), (-7.895947649, 23.219067723), (-3.95725526, 23.325518869)],
                knots=[0, 0, 0, 0, 1, 1, 1, 1], degree=3))
            add(Edge.make_bspline(
                [(-3.95725526, 23.325518869), (-3.779276916, 23.35023677), (-3.597859082, 23.595665467), (-3.624888541, 23.776531501)],
                knots=[0, 0, 0, 0, 1, 1, 1, 1], degree=3))
            add(Edge.make_bspline(
                [(-3.624888541, 23.776531501), (-3.639467746, 24.061784297), (-3.884725351, 24.317135086), (-4.195925218, 24.287497003)],
                knots=[0, 0, 0, 0, 1, 1, 1, 1], degree=3))
            add(Edge.make_bspline(
                [(-10.243657996, 18.701199897), (-10.182828773, 20.346306567), (-8.409956491, 24.044181671), (-4.195925218, 24.287497003)],
                knots=[0, 0, 0, 0, 1, 1, 1, 1], degree=3))
            add(Edge.make_bspline(
                [(-9.805687565, 17.927066284), (-10.31434716, 17.975749279), (-10.243657996, 18.701199897)],
                knots=[0, 0, 0, 1, 1, 1], degree=2))
            add(Edge.make_bspline(
                [(-9.319053754, 18.411393731), (-9.375196464, 17.914926879), (-9.805687565, 17.927066284)],
                knots=[0, 0, 0, 1, 1, 1], degree=2))
        make_face()
    # profile 7 of 7: a face of its own
    with BuildSketch(Plane.XZ):
        with BuildLine():
            add(Edge.make_bspline(
                [(-11.523144368, 18.395379414), (-11.040898376, 22.612315512), (-7.900523453, 25.441163991), (-3.961831064, 25.547615136)],
                knots=[0, 0, 0, 0, 1, 1, 1, 1], degree=3))
            add(Edge.make_bspline(
                [(-3.961831064, 25.547615136), (-3.783852719, 25.572333037), (-3.602434885, 25.817761734), (-3.629464345, 25.998627769)],
                knots=[0, 0, 0, 0, 1, 1, 1, 1], degree=3))
            add(Edge.make_bspline(
                [(-3.629464345, 25.998627769), (-3.644043549, 26.283880564), (-3.889301155, 26.539231353), (-4.200501022, 26.50959327)],
                knots=[0, 0, 0, 0, 1, 1, 1, 1], degree=3))
            add(Edge.make_bspline(
                [(-12.44774861, 18.68518558), (-12.386919387, 20.33029225), (-10.637820975, 26.082784436), (-4.200501022, 26.50959327)],
                knots=[0, 0, 0, 0, 1, 1, 1, 1], degree=3))
            add(Edge.make_bspline(
                [(-12.00977818, 17.911051966), (-12.518437774, 17.959734961), (-12.44774861, 18.68518558)],
                knots=[0, 0, 0, 1, 1, 1], degree=2))
            add(Edge.make_bspline(
                [(-11.523144368, 18.395379414), (-11.579287078, 17.898912561), (-12.00977818, 17.911051966)],
                knots=[0, 0, 0, 1, 1, 1], degree=2))
        make_face()
    extrude(amount=-CUT_EXTRUDE1_DEPTH, mode=Mode.SUBTRACT)


solid = part.part
